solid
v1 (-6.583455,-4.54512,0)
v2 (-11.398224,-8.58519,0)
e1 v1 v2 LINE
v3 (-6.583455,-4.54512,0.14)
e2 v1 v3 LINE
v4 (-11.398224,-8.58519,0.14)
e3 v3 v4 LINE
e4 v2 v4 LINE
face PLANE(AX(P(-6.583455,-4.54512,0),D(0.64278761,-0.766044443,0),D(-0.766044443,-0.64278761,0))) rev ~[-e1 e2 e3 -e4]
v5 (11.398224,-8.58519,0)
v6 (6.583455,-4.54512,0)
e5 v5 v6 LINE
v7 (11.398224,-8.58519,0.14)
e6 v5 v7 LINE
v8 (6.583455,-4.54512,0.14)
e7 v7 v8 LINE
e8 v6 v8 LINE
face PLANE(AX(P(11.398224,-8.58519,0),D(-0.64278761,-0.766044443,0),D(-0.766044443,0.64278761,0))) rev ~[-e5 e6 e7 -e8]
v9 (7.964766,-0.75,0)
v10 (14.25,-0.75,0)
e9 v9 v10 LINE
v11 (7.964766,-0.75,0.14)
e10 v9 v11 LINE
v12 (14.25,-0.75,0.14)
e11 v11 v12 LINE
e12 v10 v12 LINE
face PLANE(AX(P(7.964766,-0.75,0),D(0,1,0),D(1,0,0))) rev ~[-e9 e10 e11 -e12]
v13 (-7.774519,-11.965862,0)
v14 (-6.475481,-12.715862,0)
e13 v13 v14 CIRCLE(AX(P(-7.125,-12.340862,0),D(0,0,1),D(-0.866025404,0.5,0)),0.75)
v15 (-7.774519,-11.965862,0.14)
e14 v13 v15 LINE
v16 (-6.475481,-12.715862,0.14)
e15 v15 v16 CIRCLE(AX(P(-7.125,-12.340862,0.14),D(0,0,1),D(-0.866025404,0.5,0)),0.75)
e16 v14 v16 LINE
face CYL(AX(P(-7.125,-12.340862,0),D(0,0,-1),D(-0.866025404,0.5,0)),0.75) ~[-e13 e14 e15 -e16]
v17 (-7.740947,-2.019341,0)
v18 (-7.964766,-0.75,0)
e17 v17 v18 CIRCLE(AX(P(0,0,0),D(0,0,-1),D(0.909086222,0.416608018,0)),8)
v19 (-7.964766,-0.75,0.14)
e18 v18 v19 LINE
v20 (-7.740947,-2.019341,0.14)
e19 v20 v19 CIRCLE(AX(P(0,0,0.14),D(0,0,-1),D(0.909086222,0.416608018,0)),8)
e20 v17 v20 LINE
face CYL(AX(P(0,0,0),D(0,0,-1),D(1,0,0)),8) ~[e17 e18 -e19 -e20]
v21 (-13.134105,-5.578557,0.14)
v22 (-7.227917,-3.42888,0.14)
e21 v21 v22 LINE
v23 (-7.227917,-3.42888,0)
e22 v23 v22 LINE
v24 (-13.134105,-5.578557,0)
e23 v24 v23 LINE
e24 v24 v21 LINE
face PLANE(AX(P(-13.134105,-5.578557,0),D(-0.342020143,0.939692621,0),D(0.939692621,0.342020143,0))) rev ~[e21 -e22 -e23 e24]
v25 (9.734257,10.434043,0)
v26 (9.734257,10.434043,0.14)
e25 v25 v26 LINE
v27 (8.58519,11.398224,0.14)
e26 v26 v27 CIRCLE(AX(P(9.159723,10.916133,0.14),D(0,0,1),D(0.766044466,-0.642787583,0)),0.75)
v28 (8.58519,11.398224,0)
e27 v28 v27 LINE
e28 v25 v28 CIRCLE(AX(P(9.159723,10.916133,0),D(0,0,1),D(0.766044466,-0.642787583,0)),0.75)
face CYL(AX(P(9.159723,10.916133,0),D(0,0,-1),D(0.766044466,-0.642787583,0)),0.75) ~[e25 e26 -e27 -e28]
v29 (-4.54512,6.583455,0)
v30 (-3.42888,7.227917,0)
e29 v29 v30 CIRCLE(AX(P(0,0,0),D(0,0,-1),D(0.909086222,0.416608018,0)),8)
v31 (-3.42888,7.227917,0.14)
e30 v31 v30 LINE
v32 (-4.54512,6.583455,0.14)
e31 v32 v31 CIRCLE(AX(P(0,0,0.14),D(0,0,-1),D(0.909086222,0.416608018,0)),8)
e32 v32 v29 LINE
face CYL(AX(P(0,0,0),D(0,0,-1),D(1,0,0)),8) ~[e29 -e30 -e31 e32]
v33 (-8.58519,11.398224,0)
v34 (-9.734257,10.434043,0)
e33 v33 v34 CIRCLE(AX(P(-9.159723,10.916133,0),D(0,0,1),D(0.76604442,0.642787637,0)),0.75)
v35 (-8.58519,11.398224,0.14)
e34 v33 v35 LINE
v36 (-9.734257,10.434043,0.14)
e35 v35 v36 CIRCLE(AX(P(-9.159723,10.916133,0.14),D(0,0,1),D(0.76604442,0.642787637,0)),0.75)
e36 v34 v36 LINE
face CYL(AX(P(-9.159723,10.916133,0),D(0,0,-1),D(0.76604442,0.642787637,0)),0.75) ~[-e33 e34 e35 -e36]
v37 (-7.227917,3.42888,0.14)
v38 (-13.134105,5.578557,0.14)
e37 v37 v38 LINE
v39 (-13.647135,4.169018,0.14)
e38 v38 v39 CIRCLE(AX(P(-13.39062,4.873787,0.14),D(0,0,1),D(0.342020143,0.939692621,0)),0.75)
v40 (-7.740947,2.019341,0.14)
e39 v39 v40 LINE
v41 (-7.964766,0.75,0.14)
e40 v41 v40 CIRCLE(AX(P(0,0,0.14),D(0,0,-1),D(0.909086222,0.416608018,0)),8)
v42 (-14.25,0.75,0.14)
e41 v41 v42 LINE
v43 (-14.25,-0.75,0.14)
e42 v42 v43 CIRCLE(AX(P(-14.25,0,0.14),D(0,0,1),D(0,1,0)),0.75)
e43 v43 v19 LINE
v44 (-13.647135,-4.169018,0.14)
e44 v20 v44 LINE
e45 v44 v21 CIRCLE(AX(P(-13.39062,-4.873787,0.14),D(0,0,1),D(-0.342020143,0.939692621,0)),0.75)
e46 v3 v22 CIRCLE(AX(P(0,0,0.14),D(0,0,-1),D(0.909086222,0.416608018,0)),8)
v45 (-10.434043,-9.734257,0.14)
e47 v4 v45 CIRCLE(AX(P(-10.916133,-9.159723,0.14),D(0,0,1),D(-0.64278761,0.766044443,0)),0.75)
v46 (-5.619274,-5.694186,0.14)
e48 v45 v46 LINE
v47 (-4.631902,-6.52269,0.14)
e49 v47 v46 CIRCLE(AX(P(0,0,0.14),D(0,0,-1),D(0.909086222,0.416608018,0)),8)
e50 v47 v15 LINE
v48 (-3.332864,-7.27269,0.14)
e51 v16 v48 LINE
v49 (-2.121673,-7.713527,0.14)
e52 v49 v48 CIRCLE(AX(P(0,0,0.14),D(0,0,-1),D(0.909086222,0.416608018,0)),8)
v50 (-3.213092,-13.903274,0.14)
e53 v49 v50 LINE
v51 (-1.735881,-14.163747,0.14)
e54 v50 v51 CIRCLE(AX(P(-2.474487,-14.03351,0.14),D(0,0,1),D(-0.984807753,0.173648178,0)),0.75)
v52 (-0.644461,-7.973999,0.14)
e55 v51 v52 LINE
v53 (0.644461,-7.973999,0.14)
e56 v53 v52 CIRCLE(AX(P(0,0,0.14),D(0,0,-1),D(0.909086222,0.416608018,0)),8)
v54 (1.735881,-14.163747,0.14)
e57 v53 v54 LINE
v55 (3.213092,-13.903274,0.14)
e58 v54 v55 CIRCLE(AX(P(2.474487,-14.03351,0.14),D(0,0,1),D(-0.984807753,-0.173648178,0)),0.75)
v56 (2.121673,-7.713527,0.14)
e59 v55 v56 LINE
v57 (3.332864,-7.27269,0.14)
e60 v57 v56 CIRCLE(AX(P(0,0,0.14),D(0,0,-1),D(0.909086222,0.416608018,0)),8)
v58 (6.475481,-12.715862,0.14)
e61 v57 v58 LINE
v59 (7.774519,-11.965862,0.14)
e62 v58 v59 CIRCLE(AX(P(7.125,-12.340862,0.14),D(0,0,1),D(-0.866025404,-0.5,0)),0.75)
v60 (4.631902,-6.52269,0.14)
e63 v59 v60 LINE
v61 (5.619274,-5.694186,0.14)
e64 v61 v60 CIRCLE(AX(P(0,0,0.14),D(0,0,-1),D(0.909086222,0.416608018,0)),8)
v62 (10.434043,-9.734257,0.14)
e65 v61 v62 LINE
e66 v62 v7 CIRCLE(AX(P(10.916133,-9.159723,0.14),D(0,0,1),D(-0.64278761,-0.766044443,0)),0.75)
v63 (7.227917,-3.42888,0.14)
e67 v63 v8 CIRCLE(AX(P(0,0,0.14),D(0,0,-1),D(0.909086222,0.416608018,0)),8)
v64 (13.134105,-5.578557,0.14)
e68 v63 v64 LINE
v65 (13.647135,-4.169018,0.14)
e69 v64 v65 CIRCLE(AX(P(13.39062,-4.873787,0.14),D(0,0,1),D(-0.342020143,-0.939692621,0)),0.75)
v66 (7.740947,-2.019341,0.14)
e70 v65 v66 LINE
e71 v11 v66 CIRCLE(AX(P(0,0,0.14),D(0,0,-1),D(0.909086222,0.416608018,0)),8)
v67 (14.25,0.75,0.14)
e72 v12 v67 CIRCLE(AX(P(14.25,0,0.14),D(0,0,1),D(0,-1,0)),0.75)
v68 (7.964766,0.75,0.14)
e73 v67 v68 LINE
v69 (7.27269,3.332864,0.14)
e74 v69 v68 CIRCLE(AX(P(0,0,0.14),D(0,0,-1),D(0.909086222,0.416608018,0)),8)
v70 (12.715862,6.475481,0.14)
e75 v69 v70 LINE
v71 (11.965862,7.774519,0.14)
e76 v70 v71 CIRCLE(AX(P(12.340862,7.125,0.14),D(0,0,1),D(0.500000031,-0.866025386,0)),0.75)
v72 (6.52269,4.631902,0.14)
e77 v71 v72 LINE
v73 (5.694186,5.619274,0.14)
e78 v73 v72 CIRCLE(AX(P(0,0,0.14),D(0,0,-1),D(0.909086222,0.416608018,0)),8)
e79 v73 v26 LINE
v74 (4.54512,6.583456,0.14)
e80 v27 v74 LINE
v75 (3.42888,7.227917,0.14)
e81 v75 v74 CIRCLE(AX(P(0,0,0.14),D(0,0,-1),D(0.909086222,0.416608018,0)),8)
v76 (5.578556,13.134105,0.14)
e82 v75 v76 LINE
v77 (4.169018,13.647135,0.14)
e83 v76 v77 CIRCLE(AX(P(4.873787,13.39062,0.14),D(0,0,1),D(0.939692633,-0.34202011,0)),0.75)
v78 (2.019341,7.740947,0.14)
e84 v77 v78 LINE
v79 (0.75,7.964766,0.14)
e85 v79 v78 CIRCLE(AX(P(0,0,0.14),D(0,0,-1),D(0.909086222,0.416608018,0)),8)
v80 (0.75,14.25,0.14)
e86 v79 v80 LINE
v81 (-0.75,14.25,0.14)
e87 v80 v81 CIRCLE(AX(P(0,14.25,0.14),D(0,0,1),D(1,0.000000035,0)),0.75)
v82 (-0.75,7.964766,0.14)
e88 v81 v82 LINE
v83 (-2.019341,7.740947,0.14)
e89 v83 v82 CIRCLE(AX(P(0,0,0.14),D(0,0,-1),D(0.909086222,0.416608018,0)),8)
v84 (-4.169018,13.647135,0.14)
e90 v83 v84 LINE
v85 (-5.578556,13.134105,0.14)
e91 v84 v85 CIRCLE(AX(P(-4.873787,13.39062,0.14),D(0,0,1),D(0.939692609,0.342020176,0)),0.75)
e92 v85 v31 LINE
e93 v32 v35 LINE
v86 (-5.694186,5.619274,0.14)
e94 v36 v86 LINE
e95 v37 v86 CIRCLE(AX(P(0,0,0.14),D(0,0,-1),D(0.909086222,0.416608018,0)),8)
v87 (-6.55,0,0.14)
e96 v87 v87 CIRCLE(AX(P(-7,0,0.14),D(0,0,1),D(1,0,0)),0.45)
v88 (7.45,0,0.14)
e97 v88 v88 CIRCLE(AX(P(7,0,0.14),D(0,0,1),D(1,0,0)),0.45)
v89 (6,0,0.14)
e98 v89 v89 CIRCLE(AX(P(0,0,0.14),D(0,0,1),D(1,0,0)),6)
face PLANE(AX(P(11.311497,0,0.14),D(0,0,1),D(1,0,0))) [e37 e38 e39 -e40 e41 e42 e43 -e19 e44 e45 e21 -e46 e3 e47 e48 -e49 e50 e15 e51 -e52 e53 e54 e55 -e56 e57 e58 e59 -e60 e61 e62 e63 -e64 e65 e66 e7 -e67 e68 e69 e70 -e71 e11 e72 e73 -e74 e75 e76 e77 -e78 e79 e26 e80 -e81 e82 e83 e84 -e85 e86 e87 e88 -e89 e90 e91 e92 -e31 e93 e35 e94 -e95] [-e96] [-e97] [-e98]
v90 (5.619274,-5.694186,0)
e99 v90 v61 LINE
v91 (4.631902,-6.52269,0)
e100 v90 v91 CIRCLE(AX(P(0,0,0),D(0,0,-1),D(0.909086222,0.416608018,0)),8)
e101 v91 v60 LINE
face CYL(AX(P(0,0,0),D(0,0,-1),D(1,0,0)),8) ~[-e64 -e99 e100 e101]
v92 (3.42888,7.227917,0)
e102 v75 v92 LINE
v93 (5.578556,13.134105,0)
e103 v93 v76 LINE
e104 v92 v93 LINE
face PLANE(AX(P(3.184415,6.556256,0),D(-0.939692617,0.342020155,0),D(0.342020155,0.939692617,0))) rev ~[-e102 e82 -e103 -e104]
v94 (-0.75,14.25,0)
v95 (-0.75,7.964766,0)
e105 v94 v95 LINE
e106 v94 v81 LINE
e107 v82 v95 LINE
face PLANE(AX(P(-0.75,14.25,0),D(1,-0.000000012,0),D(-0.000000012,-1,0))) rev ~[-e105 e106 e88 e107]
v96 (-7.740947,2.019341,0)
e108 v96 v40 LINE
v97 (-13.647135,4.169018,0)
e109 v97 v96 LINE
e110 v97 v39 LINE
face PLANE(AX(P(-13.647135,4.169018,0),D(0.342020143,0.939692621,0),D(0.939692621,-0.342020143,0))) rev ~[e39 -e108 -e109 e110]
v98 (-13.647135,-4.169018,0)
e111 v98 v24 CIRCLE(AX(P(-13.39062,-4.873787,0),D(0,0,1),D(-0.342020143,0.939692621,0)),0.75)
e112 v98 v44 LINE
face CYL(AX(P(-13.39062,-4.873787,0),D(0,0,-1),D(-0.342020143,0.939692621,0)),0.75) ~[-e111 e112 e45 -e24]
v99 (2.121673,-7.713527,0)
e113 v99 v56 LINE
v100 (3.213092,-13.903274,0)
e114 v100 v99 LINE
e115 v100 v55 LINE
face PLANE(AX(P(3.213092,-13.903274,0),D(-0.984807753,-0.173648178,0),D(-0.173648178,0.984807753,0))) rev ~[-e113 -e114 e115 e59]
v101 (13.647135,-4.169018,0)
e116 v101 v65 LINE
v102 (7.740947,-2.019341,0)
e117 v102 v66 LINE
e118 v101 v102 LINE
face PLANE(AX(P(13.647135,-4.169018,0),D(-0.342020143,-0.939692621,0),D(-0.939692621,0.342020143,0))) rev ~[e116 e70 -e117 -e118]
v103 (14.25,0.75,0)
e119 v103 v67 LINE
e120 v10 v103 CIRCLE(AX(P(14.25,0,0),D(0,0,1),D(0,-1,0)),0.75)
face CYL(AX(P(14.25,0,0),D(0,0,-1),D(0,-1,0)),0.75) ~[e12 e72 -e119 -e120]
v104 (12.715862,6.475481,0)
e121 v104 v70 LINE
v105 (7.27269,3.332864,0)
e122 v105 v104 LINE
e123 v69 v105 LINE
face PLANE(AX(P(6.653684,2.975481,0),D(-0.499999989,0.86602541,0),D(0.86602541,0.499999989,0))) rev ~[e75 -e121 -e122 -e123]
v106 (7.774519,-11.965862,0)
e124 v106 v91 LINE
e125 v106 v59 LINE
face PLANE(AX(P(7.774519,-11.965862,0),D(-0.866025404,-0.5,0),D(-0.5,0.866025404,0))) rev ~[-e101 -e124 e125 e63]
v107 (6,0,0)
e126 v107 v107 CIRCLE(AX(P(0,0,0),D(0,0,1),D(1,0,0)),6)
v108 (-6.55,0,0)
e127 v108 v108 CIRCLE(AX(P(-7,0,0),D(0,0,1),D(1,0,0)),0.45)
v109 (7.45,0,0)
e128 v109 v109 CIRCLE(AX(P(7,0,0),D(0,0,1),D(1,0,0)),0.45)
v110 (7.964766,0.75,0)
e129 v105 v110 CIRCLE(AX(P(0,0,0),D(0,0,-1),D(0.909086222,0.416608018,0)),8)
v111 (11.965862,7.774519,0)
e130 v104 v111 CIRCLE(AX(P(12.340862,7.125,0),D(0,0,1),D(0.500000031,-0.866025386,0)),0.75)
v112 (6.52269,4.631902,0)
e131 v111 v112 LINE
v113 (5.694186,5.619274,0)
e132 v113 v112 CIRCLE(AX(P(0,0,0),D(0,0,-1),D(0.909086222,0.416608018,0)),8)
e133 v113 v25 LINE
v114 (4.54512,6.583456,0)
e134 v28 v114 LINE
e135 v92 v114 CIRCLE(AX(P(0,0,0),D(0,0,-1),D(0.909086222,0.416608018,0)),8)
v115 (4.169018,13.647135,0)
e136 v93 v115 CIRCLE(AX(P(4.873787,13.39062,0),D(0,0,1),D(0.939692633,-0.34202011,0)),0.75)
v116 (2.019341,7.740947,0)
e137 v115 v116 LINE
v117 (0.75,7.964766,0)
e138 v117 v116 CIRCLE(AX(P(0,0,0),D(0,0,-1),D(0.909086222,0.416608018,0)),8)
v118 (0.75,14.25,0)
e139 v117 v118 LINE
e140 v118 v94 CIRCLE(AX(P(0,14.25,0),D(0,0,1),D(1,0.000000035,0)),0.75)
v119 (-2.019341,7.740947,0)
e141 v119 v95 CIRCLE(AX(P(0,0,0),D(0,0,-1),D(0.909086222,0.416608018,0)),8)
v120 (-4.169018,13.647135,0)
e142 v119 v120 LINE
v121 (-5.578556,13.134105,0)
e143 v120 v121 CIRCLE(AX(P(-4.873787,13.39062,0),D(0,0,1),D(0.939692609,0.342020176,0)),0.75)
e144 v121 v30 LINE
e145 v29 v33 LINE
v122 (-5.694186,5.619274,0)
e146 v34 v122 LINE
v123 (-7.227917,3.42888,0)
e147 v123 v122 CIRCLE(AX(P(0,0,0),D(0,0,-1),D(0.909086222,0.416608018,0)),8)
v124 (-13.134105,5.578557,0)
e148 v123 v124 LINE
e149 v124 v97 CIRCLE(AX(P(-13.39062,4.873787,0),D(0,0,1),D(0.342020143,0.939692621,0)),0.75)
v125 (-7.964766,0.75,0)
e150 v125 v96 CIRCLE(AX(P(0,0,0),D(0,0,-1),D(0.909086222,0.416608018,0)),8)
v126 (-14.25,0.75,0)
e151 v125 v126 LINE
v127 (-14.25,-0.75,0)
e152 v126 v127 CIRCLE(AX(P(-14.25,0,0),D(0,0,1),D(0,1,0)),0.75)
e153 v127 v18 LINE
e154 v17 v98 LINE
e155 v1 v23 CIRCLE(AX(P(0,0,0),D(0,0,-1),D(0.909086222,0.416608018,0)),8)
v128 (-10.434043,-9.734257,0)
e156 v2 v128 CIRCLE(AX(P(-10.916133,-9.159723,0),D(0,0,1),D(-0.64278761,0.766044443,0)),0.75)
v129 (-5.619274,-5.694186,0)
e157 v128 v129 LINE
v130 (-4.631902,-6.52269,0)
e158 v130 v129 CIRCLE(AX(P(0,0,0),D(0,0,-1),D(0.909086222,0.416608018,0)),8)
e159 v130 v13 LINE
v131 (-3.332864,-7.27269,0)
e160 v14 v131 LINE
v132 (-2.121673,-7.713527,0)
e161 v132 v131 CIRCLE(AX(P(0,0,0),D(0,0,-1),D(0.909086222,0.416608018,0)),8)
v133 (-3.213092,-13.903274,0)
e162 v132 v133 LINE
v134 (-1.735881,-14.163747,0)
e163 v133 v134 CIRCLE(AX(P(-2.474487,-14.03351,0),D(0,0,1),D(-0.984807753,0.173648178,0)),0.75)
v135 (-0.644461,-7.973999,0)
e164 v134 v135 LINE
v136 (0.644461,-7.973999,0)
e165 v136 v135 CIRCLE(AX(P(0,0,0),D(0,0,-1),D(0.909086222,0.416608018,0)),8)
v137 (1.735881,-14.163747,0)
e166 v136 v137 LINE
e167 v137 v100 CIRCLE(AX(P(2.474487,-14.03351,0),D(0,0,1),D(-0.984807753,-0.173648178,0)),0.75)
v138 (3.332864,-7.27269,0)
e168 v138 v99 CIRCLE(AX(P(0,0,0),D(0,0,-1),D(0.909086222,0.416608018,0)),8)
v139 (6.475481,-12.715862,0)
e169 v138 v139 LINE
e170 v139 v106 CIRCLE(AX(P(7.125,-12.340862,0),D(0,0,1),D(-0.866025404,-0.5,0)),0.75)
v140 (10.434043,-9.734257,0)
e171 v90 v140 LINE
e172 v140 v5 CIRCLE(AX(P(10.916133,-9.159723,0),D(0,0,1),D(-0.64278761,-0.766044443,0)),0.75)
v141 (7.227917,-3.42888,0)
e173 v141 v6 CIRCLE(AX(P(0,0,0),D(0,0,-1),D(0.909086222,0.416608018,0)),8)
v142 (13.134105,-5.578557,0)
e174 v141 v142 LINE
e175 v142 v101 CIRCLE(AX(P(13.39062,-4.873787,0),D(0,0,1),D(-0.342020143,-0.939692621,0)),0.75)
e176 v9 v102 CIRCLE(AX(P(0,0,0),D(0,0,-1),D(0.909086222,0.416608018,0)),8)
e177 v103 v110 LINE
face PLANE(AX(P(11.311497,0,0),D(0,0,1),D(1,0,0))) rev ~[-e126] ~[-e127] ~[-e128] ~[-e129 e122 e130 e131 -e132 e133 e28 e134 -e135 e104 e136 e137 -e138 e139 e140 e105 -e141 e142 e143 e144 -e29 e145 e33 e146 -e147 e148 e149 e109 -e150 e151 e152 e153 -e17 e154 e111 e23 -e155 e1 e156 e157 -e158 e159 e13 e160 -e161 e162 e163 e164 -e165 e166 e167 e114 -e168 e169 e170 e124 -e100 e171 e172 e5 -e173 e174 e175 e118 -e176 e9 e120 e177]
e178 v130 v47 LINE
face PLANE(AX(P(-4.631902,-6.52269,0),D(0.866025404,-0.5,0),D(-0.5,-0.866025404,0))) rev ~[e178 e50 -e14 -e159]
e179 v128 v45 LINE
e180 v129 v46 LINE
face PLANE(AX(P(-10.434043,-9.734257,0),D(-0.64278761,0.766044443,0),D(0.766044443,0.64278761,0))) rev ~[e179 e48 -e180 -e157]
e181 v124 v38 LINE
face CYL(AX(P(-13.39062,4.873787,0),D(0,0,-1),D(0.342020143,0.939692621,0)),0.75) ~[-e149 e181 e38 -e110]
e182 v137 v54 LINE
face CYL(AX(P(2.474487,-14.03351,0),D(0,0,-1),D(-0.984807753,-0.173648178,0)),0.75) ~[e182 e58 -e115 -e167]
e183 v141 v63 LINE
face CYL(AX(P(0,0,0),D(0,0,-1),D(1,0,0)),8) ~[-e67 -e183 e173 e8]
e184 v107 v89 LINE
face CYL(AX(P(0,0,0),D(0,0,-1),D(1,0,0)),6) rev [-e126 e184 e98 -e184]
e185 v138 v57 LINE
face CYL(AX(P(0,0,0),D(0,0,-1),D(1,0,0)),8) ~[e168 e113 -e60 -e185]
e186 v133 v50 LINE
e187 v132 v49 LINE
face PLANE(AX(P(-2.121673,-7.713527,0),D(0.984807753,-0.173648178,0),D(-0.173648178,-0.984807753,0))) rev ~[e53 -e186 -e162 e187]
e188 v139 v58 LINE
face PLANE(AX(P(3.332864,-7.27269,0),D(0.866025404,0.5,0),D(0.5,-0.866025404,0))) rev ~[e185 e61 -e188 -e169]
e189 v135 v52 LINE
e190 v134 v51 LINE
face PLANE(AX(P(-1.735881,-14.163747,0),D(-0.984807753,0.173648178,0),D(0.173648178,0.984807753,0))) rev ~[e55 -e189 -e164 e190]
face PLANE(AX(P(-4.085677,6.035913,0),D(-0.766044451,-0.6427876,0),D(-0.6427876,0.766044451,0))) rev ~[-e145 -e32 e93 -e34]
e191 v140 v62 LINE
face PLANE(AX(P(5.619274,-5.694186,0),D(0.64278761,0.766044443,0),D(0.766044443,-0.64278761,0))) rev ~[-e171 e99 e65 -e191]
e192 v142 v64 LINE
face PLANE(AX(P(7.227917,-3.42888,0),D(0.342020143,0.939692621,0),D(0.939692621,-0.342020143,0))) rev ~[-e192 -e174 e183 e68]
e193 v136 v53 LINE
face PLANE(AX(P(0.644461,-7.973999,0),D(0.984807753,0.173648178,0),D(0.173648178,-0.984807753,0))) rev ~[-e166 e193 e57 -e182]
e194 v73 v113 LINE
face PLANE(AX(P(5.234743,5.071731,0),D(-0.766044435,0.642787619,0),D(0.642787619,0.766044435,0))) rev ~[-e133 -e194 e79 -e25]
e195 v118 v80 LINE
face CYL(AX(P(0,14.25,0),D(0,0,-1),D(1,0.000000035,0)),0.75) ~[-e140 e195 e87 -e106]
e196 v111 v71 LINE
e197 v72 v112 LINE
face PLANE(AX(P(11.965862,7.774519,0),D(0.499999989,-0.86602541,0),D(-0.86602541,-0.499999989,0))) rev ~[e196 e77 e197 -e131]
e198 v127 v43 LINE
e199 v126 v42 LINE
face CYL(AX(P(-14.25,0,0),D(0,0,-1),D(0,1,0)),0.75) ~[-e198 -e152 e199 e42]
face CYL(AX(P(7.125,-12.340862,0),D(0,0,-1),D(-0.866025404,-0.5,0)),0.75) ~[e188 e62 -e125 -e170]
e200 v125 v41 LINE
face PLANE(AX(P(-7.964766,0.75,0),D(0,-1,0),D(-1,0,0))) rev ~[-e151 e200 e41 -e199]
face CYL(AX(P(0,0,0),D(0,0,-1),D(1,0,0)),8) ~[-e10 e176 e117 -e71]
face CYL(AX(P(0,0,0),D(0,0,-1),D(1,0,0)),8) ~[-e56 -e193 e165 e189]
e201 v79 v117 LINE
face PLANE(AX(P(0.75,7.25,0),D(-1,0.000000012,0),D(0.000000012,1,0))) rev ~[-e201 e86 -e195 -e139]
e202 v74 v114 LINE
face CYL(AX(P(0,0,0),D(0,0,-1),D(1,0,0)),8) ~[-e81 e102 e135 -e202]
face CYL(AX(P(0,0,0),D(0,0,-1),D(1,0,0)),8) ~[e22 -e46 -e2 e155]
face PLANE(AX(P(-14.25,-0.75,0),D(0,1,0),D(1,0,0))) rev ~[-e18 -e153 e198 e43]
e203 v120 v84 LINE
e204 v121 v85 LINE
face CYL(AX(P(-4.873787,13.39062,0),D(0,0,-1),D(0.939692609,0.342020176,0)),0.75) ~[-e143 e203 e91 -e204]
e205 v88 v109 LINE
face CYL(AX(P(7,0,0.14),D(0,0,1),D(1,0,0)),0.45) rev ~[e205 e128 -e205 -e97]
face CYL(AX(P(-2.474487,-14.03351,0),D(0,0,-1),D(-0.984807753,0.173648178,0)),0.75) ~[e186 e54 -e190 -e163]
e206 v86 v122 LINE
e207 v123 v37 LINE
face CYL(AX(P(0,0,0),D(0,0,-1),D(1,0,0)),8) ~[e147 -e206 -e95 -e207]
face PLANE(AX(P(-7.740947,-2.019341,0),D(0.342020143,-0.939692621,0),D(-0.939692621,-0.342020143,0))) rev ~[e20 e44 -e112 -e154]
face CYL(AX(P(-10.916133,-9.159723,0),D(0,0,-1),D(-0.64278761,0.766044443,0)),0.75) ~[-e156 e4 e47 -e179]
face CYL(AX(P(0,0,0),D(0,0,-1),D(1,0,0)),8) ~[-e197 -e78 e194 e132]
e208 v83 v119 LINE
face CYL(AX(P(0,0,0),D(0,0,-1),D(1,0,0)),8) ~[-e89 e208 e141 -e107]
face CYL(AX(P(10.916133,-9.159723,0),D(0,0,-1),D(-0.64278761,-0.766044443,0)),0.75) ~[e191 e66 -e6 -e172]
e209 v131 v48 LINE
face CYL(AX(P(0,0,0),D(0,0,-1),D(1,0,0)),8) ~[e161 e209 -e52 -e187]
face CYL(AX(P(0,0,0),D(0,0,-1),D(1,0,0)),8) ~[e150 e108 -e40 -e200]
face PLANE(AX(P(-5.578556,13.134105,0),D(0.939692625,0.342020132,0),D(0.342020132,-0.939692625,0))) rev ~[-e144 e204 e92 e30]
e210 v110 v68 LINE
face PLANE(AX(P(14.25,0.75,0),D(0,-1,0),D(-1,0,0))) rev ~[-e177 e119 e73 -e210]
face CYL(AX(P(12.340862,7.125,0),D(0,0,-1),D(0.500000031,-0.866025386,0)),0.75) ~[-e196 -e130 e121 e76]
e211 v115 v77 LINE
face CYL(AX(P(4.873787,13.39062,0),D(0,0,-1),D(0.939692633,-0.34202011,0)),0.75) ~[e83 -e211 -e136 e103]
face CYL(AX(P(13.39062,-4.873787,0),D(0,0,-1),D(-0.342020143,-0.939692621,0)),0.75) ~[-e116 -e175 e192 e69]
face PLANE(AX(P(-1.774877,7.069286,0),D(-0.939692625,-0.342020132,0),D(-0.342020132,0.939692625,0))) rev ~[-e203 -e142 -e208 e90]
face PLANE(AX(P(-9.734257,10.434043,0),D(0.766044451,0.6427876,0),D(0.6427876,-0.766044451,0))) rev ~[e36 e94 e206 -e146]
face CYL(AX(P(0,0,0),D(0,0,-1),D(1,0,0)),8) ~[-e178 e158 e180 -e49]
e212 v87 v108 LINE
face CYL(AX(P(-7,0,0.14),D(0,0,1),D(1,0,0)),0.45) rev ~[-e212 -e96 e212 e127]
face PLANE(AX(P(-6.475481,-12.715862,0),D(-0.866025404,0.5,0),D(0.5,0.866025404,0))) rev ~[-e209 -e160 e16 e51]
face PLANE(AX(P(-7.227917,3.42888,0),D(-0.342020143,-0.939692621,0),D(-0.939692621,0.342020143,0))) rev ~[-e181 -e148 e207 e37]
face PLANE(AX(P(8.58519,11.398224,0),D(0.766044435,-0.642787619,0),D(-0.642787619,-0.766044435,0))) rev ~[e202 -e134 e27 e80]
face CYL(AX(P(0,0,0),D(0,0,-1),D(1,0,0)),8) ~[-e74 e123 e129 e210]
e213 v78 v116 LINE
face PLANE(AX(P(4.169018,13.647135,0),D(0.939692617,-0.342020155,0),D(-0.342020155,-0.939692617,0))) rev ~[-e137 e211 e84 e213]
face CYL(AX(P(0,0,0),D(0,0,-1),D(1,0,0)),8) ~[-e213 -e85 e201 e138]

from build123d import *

# Parameters (mm, degrees)
F0_R      = 8
F0_R_2    = 6
F1_DEPTH  = 0.14
F3_DEPTH  = 0.14
F5_COUNT  = 11
F5_ANGLE  = 200
F7_DEPTH  = 0.14
F8_COUNT  = 6
F8_ANGLE  = 100
F10_R     = 0.45
F11_DEPTH = 0.14


with BuildPart() as f1:
    # F0 (on Top) → F1 (new body)
    with BuildSketch(Plane.XY):
        Circle(F0_R)
        Circle(F0_R_2, mode=Mode.SUBTRACT)
    extrude(amount=F1_DEPTH)


with BuildPart() as f3:
    # F2 (on Top) → F3 (new body)
    with BuildSketch(Plane.XY):
        with BuildLine():
            Line((7.964766, -0.75), (14.25, -0.75))
            ThreePointArc((14.25, -0.75), (15, 0), (14.25, 0.75))
            Line((14.25, 0.75), (7.964766, 0.75))
            Line((7.964766, 0.75), (7.964766, -0.75))
        make_face()
    extrude(amount=F3_DEPTH)


with BuildPart() as f5_1:
    # F5: instance of F3
    add(f3.part.rotate(Axis((0, 0, 2.663581), (0, 0, -1)), 1 * F5_ANGLE / (F5_COUNT - 1)))


with BuildPart() as f5_2:
    # F5: instance of F3
    add(f3.part.rotate(Axis((0, 0, 2.663581), (0, 0, -1)), 2 * F5_ANGLE / (F5_COUNT - 1)))


with BuildPart() as f5_3:
    # F5: instance of F3
    add(f3.part.rotate(Axis((0, 0, 2.663581), (0, 0, -1)), 3 * F5_ANGLE / (F5_COUNT - 1)))


with BuildPart() as f5_4:
    # F5: instance of F3
    add(f3.part.rotate(Axis((0, 0, 2.663581), (0, 0, -1)), 4 * F5_ANGLE / (F5_COUNT - 1)))


with BuildPart() as f5_5:
    # F5: instance of F3
    add(f3.part.rotate(Axis((0, 0, 2.663581), (0, 0, -1)), 5 * F5_ANGLE / (F5_COUNT - 1)))


with BuildPart() as f5_6:
    # F5: instance of F3
    add(f3.part.rotate(Axis((0, 0, 2.663581), (0, 0, -1)), 6 * F5_ANGLE / (F5_COUNT - 1)))


with BuildPart() as f5_7:
    # F5: instance of F3
    add(f3.part.rotate(Axis((0, 0, 2.663581), (0, 0, -1)), 7 * F5_ANGLE / (F5_COUNT - 1)))


with BuildPart() as f5_8:
    # F5: instance of F3
    add(f3.part.rotate(Axis((0, 0, 2.663581), (0, 0, -1)), 8 * F5_ANGLE / (F5_COUNT - 1)))


with BuildPart() as f5_9:
    # F5: instance of F3
    add(f3.part.rotate(Axis((0, 0, 2.663581), (0, 0, -1)), 9 * F5_ANGLE / (F5_COUNT - 1)))


with BuildPart() as f5_10:
    # F5: instance of F3
    add(f3.part.rotate(Axis((0, 0, 2.663581), (0, 0, -1)), 10 * F5_ANGLE / (F5_COUNT - 1)))


with BuildPart() as f7:
    # F6 (on Top) → F7 (new body)
    with BuildSketch(Plane.XY):
        with BuildLine():
            Line((6.653684, 2.975481), (12.715862, 6.475481))
            ThreePointArc((12.715862, 6.475481), (12.990381, 7.5), (11.965862, 7.774519))
            Line((11.965862, 7.774519), (5.903684, 4.274519))
            Line((5.903684, 4.274519), (6.653684, 2.975481))
        make_face()
    extrude(amount=F7_DEPTH)


with BuildPart() as f8_1:
    # F8: instance of F7
    add(f7.part.rotate(Axis((0, 0, 2.663581), (0, 0, 1)), 1 * F8_ANGLE / (F8_COUNT - 1)))


with BuildPart() as f8_2:
    # F8: instance of F7
    add(f7.part.rotate(Axis((0, 0, 2.663581), (0, 0, 1)), 2 * F8_ANGLE / (F8_COUNT - 1)))


with BuildPart() as f8_3:
    # F8: instance of F7
    add(f7.part.rotate(Axis((0, 0, 2.663581), (0, 0, 1)), 3 * F8_ANGLE / (F8_COUNT - 1)))


with BuildPart() as f8_4:
    # F8: instance of F7
    add(f7.part.rotate(Axis((0, 0, 2.663581), (0, 0, 1)), 4 * F8_ANGLE / (F8_COUNT - 1)))


with BuildPart() as f8_5:
    # F8: instance of F7
    add(f7.part.rotate(Axis((0, 0, 2.663581), (0, 0, 1)), 5 * F8_ANGLE / (F8_COUNT - 1)))


with BuildPart() as f1_1:
    add(f1.part)

    # F9: union F7, F8_1, F8_2, F8_3, F8_4, F8_5, F5_10, F5_9, F5_8, F5_7, F5_6, F5_4, F5_5, F5_3, F5_2, F5_1, F3
    add(f7.part)
    add(f8_1.part)
    add(f8_2.part)
    add(f8_3.part)
    add(f8_4.part)
    add(f8_5.part)
    add(f5_10.part)
    add(f5_9.part)
    add(f5_8.part)
    add(f5_7.part)
    add(f5_6.part)
    add(f5_4.part)
    add(f5_5.part)
    add(f5_3.part)
    add(f5_2.part)
    add(f5_1.part)
    add(f3.part)

    # F10 (on face) → F11 (cut)
    with BuildSketch(Plane.XY.offset(0.14)):
        with Locations((7, 0)):
            Circle(F10_R)
        with Locations((-7, 0)):
            Circle(F10_R)
    extrude(amount=-F11_DEPTH, mode=Mode.SUBTRACT)


solid = f1_1.part
